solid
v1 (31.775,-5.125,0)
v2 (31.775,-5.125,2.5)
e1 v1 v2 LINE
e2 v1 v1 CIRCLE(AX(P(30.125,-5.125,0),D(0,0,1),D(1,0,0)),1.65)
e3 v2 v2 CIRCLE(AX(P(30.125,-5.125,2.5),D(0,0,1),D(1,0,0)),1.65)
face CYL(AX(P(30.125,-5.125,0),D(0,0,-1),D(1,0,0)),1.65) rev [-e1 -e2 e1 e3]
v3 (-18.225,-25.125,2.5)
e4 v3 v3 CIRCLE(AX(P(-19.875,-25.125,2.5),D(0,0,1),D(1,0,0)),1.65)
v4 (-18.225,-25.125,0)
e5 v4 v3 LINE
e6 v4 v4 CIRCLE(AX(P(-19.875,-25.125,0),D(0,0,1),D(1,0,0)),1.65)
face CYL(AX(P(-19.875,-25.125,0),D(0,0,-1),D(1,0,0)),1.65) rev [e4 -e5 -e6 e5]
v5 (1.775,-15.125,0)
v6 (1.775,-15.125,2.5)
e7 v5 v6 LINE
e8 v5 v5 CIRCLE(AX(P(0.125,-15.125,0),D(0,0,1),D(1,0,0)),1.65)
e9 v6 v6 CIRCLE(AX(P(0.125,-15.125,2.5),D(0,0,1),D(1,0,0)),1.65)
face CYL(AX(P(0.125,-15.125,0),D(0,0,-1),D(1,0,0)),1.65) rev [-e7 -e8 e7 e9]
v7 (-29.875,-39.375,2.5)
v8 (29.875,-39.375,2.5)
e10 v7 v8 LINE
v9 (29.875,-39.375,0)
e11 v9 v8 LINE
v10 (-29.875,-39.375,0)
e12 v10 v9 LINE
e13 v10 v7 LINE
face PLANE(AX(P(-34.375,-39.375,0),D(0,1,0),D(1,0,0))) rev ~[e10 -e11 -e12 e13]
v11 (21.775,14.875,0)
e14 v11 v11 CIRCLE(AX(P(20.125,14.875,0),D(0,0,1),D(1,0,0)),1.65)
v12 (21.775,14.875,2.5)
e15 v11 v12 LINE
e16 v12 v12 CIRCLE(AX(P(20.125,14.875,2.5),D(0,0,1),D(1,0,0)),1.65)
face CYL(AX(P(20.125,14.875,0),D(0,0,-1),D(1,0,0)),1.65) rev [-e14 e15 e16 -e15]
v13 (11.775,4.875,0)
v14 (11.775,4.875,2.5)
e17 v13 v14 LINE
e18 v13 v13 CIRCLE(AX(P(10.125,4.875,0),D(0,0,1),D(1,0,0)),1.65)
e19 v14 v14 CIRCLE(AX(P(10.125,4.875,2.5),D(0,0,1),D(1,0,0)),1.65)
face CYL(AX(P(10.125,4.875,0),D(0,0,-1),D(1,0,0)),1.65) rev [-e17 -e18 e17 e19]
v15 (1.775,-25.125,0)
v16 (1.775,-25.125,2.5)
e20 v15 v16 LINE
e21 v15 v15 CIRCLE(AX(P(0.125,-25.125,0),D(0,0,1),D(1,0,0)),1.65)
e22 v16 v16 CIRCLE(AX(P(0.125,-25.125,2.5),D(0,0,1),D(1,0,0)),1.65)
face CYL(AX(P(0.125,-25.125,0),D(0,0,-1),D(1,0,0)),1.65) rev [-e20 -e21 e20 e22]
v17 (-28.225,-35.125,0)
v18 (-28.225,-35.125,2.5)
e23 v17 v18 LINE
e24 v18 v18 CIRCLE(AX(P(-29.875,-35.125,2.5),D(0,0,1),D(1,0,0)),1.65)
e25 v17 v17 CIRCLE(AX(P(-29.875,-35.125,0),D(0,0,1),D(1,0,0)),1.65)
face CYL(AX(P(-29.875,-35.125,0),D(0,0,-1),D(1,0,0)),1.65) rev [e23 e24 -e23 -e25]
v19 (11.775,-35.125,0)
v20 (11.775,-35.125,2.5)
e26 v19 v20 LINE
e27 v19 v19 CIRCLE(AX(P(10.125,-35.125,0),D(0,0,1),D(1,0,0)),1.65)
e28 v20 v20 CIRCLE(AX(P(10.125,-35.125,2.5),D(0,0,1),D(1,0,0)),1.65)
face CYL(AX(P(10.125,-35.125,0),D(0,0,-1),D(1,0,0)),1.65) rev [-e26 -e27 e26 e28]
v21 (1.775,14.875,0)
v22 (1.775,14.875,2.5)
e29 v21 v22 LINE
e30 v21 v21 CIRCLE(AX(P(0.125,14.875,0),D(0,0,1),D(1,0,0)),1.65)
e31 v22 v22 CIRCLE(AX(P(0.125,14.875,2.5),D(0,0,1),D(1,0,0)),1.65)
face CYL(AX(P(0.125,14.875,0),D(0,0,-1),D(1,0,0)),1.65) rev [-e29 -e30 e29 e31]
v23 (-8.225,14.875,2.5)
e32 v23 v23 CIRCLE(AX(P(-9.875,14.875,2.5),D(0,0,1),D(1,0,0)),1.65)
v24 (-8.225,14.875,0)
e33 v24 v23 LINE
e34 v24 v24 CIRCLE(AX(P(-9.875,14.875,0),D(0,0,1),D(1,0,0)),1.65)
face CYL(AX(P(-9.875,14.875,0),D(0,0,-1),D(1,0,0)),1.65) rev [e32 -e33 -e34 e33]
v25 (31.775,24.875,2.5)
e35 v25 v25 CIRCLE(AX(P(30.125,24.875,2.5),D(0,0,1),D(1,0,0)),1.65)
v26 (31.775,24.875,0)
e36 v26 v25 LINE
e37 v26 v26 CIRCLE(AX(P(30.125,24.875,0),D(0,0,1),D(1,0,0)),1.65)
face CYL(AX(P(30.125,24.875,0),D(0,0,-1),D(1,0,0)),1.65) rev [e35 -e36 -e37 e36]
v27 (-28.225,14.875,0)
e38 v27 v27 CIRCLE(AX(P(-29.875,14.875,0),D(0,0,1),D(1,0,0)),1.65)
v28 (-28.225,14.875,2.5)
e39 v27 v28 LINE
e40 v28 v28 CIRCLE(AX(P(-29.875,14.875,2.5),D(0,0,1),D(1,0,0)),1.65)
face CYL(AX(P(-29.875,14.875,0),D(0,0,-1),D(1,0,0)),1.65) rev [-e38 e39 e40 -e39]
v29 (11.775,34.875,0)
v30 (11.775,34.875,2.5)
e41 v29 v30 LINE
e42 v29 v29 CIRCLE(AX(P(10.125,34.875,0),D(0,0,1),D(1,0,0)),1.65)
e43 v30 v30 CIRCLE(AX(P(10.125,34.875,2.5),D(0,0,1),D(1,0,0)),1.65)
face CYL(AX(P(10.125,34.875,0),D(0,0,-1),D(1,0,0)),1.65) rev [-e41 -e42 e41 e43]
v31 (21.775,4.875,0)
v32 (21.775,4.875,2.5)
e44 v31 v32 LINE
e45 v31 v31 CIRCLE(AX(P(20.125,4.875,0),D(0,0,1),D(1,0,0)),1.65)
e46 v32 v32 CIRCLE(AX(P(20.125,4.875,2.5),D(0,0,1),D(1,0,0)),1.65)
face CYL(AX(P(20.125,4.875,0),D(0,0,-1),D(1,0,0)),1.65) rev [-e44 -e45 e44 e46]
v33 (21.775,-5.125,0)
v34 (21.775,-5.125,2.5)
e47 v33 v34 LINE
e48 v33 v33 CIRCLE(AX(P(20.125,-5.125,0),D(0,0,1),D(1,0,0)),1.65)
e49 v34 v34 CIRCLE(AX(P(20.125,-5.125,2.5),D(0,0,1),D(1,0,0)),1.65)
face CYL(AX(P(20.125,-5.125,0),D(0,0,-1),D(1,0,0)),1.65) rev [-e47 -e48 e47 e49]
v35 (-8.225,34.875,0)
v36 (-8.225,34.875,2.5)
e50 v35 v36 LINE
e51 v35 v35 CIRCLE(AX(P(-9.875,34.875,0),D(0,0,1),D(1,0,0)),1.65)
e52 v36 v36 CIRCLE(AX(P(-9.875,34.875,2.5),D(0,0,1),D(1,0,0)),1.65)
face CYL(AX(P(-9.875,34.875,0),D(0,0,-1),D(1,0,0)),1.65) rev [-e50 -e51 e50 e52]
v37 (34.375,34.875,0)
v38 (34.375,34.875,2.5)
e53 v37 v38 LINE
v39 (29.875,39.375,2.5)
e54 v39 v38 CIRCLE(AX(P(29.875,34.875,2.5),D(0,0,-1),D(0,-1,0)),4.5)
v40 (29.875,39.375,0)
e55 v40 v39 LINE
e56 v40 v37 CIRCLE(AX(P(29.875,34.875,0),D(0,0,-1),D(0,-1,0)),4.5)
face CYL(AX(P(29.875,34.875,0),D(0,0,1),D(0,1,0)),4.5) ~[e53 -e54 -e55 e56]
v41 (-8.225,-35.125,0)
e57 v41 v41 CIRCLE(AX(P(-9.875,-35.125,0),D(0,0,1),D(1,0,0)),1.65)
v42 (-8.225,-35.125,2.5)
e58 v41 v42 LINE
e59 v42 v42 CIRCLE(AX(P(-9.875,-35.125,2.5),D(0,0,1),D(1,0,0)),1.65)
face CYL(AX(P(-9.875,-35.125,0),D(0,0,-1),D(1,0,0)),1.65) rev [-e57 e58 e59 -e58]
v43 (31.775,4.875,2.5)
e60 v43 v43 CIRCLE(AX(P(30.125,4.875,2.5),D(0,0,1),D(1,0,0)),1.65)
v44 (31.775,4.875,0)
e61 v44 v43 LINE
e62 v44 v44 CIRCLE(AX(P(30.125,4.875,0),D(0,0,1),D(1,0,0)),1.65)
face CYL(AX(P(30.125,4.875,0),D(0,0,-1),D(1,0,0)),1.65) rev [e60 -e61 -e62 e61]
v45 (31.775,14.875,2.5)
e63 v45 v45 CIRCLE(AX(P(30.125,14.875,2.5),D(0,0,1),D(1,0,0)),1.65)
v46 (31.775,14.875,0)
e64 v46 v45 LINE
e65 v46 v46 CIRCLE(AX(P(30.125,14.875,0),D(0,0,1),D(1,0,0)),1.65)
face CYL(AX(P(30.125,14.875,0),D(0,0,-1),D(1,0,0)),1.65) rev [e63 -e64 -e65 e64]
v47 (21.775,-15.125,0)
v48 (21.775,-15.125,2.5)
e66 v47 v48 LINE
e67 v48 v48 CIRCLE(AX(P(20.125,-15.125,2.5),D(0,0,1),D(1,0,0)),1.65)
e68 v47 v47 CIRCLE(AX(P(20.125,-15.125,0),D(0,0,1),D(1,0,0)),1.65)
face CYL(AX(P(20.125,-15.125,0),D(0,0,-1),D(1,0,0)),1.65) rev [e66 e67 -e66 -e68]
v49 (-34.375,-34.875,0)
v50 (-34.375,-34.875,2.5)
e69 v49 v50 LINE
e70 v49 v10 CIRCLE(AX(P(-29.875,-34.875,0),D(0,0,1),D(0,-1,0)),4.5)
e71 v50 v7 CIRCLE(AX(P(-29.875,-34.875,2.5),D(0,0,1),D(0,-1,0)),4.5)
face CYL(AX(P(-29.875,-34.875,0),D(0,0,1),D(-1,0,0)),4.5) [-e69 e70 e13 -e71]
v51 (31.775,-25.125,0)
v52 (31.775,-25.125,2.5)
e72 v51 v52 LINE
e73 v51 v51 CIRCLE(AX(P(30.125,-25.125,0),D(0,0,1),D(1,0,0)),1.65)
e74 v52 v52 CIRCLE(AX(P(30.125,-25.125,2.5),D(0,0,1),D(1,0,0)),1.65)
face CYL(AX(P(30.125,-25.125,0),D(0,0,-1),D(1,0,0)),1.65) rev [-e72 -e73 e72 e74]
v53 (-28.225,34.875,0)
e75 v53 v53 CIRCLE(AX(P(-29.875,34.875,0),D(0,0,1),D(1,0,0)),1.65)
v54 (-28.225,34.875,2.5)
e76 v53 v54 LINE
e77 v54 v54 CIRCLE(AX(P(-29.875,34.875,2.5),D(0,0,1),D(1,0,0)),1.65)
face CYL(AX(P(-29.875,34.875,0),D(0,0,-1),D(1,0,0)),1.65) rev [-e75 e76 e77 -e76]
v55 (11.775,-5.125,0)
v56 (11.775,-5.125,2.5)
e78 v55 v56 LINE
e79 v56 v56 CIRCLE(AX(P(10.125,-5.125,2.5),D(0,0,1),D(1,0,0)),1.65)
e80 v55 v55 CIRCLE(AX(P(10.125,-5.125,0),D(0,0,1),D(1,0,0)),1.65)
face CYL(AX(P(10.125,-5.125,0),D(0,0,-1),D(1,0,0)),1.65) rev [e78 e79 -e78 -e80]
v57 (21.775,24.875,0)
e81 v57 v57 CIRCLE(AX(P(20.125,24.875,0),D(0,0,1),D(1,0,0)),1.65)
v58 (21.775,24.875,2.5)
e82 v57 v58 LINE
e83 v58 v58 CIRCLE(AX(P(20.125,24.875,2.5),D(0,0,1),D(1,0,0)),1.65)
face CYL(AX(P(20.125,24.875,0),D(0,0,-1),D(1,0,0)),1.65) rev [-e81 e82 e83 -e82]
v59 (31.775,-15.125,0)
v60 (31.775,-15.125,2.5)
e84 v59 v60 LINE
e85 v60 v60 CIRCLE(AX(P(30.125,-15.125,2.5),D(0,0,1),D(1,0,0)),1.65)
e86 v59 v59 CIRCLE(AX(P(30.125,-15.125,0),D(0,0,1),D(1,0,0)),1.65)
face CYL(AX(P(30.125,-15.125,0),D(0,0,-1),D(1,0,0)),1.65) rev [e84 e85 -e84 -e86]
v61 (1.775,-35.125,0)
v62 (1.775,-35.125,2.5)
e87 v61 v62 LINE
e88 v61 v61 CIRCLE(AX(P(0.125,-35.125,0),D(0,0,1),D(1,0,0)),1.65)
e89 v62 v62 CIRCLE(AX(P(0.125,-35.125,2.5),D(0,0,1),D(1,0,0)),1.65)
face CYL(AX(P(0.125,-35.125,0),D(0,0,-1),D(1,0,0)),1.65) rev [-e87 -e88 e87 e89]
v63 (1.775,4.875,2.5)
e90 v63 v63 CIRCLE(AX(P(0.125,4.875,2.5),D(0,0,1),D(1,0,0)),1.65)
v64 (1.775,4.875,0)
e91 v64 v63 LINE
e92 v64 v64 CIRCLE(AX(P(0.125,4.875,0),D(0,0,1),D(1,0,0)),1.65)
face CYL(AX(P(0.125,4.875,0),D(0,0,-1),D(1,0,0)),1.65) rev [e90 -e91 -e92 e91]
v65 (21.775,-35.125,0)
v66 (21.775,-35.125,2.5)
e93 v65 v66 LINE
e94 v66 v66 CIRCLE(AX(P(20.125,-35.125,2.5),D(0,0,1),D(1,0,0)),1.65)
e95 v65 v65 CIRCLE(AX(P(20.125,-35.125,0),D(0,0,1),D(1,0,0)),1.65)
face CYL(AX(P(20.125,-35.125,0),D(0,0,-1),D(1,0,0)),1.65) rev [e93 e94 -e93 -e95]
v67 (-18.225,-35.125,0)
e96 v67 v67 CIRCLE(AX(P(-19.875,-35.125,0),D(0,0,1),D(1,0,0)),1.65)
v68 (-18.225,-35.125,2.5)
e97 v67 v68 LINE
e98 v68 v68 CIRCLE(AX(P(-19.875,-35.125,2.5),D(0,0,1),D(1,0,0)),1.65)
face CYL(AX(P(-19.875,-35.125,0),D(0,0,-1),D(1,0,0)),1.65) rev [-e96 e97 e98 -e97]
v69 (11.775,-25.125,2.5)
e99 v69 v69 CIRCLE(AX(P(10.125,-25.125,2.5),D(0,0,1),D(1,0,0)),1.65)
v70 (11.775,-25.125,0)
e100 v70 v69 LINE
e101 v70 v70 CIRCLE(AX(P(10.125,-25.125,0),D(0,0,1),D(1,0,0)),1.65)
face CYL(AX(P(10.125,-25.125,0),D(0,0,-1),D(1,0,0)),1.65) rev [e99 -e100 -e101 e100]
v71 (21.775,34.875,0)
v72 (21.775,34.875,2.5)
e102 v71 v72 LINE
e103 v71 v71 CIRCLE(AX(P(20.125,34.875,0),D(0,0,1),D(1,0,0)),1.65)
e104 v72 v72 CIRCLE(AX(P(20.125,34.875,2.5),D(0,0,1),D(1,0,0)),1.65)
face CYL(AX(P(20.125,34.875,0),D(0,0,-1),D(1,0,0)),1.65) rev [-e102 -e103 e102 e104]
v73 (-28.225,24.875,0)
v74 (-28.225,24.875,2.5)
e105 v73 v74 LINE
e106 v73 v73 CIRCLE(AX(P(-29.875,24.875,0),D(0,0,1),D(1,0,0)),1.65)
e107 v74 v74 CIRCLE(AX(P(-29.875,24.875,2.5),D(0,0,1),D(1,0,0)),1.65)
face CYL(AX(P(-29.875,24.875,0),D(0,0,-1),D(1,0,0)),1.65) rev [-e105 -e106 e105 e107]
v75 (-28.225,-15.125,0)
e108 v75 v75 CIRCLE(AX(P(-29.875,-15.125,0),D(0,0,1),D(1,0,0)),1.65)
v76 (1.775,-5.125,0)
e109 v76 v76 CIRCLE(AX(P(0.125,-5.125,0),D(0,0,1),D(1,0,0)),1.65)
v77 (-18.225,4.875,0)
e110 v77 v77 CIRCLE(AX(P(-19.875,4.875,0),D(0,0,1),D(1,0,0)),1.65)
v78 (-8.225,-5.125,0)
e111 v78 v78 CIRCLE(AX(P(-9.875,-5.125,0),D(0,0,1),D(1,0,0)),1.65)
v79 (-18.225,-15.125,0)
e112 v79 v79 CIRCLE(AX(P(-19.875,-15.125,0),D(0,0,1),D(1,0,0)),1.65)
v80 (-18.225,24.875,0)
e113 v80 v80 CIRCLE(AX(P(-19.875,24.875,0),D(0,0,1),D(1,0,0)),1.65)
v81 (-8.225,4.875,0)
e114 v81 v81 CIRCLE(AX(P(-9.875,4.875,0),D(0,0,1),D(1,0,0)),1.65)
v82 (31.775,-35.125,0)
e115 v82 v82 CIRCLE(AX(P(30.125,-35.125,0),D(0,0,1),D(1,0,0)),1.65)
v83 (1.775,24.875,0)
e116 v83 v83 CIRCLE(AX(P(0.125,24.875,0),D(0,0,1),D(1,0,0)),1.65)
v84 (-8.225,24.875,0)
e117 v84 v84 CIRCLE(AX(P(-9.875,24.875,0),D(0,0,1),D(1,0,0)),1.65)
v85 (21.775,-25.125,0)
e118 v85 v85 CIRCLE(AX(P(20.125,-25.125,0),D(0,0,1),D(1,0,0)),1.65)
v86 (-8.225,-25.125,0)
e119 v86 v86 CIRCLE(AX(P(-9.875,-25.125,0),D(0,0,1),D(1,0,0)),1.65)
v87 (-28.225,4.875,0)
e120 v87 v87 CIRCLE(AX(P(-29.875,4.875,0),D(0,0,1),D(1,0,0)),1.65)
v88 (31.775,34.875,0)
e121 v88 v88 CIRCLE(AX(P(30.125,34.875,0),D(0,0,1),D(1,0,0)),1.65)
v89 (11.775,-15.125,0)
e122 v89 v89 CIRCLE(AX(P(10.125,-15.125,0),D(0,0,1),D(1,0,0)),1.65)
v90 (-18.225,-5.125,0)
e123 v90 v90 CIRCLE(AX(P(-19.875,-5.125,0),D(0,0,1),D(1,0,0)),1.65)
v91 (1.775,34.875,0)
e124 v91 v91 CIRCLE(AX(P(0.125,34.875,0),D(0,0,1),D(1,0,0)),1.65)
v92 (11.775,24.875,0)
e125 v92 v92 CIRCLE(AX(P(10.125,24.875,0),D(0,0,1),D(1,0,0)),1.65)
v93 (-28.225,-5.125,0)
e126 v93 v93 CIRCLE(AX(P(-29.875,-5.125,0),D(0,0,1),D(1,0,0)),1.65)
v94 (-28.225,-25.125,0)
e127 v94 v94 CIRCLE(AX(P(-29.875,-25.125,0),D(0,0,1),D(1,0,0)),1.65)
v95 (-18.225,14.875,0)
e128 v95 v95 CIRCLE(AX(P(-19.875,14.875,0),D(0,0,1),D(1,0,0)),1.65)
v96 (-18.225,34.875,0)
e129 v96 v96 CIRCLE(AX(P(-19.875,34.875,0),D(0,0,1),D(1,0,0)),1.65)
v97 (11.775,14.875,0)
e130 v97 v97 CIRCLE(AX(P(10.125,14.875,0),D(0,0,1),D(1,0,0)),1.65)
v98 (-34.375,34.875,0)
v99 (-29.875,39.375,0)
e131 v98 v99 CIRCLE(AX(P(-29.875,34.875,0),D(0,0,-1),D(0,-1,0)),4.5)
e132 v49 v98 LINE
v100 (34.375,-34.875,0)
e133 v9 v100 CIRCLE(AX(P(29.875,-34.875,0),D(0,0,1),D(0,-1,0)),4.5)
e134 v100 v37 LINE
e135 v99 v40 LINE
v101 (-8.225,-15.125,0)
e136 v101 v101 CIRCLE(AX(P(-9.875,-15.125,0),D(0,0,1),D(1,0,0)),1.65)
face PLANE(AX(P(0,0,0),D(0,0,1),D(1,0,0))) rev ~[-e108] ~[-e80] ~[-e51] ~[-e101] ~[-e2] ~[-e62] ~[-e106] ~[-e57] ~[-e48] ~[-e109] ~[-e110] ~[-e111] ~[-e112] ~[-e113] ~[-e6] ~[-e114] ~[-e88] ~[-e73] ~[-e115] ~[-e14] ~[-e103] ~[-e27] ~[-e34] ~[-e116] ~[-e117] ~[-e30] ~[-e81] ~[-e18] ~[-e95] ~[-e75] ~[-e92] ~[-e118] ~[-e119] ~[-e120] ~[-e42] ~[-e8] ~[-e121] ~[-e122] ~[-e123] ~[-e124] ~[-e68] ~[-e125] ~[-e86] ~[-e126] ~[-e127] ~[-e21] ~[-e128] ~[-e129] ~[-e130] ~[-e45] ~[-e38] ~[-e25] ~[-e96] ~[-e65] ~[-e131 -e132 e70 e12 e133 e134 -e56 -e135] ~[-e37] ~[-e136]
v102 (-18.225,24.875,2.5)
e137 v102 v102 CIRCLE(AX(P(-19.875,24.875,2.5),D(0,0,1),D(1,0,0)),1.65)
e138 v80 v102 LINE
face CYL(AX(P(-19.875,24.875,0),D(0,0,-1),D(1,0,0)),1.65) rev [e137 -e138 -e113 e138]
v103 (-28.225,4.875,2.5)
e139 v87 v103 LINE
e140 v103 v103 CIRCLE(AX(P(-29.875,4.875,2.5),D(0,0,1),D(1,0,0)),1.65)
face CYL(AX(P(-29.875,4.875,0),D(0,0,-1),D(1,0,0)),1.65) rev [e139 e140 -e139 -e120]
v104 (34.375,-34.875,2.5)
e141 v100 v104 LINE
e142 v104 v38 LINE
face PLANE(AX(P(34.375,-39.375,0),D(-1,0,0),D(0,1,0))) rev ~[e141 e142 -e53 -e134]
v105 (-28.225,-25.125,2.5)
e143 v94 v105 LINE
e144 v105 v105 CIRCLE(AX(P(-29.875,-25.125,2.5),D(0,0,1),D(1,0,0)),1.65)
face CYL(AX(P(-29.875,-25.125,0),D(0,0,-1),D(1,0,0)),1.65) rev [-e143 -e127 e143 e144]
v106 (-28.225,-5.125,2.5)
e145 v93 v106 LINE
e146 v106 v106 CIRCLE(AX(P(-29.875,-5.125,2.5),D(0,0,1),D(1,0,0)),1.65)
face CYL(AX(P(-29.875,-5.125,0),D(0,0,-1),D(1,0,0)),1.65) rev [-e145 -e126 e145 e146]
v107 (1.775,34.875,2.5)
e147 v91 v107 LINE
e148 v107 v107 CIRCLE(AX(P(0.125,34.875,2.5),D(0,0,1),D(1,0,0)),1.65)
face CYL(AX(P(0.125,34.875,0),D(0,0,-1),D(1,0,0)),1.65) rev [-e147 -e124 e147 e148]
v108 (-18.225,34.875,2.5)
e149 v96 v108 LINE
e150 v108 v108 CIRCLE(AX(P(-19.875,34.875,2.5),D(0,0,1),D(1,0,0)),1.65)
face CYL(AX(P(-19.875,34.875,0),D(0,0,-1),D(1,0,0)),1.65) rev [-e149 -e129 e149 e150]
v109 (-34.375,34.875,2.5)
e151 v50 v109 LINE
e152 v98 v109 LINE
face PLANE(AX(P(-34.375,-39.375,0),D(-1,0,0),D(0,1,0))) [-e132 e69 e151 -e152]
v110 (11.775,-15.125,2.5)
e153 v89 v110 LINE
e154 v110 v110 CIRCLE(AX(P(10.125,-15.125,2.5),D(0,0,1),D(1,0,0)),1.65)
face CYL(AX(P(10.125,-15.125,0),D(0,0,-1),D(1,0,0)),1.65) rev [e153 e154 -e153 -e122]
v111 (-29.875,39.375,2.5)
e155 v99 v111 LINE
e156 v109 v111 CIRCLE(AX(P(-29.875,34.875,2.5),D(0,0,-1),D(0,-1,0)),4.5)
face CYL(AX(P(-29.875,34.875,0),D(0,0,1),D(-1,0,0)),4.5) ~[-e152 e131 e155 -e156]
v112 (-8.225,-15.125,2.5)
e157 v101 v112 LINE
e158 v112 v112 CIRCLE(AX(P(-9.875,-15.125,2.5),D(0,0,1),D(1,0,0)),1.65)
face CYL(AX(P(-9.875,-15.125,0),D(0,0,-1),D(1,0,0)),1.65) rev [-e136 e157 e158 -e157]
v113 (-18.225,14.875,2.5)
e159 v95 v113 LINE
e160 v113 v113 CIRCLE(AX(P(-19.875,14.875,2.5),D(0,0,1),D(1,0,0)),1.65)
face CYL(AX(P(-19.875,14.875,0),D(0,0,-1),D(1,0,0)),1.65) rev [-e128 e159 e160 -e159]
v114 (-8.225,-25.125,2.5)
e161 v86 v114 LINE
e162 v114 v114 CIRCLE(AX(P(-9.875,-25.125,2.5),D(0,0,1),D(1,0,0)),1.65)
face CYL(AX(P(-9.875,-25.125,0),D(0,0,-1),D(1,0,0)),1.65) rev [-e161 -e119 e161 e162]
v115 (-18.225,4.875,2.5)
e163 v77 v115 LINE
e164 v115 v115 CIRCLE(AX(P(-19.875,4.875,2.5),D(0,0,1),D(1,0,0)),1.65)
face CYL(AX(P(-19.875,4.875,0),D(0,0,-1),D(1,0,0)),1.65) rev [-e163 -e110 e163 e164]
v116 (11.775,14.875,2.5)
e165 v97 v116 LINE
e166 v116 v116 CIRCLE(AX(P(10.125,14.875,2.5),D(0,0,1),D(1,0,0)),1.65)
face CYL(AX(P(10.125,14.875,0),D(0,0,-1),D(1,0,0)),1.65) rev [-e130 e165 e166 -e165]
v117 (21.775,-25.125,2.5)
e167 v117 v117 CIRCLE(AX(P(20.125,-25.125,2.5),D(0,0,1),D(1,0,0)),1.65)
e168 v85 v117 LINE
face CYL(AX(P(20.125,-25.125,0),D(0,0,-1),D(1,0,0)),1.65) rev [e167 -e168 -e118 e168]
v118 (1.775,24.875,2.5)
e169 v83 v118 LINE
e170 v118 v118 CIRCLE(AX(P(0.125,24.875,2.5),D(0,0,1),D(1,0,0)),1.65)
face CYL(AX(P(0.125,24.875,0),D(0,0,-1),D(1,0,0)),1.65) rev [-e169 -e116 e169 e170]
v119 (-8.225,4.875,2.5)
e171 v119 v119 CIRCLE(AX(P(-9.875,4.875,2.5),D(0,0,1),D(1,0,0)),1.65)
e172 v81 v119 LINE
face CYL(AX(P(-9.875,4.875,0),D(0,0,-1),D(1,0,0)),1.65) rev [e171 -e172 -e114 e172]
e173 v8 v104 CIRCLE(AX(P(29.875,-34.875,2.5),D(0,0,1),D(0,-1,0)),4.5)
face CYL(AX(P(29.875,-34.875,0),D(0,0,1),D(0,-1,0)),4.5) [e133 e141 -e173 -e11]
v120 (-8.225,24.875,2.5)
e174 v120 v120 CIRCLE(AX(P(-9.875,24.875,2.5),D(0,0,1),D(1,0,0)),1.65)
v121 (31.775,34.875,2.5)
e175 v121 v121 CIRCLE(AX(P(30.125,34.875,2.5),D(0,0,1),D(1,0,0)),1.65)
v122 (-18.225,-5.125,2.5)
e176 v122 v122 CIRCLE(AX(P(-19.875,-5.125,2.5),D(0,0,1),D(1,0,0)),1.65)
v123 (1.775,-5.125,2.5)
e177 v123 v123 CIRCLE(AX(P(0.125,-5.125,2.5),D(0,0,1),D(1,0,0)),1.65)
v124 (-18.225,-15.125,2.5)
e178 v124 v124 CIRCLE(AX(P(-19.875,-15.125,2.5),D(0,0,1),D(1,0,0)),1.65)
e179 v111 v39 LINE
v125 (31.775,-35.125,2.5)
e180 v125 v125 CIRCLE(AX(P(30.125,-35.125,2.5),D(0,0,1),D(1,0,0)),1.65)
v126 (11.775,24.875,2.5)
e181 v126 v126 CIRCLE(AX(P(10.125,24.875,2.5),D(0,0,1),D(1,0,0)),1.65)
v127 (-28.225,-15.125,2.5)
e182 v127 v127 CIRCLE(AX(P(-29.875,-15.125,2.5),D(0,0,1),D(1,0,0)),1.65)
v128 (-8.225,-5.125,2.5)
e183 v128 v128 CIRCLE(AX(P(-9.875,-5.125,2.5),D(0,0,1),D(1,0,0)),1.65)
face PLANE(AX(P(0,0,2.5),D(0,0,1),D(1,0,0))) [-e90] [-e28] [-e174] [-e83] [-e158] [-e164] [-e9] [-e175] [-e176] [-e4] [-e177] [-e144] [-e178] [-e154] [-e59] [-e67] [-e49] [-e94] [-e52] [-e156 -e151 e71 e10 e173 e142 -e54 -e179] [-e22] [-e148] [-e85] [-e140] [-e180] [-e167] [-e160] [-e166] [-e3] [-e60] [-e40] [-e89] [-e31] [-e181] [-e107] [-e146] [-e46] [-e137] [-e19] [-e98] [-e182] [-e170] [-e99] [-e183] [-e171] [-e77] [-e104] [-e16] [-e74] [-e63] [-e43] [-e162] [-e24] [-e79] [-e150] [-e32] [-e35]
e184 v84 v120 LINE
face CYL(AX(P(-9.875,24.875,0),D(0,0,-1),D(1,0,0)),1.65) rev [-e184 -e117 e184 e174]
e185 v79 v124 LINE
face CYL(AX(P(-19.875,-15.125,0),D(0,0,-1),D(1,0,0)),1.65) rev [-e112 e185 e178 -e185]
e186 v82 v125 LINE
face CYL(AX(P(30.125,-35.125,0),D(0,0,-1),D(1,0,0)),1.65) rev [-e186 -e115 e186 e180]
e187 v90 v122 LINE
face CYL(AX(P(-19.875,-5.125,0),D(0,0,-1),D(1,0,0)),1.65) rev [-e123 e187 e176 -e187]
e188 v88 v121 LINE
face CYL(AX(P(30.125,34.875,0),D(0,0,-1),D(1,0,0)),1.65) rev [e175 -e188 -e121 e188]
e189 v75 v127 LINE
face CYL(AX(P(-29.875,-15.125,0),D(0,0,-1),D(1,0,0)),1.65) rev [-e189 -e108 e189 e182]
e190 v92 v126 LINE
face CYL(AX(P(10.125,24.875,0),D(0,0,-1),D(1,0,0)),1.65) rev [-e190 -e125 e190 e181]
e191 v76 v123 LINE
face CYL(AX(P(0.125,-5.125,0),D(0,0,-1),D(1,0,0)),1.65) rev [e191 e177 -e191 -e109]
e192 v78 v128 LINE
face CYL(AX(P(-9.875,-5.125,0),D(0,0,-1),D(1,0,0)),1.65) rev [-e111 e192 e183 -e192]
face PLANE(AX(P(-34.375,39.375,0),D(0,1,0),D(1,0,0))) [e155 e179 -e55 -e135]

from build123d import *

# Parameters (mm, degrees)
F0_W     = 68.75
F0_H     = 78.75
F0_R     = 1.65
F1_DEPTH = 2.5
F2_R     = 4.5


with BuildPart() as f1:
    # F0 (on Top) → F1 (new body)
    with BuildSketch(Plane.XY):
        Rectangle(F0_W, F0_H)
        with Locations((-29.875, -35.125)):
            Circle(F0_R, mode=Mode.SUBTRACT)
        with Locations((-19.875, -35.125)):
            Circle(F0_R, mode=Mode.SUBTRACT)
        with Locations((-29.875, -25.125)):
            Circle(F0_R, mode=Mode.SUBTRACT)
        with Locations((-19.875, -25.125)):
            Circle(F0_R, mode=Mode.SUBTRACT)
        with Locations((-9.875, -35.125)):
            Circle(F0_R, mode=Mode.SUBTRACT)
        with Locations((-9.875, -25.125)):
            Circle(F0_R, mode=Mode.SUBTRACT)
        with Locations((-29.875, -15.125)):
            Circle(F0_R, mode=Mode.SUBTRACT)
        with Locations((-19.875, -15.125)):
            Circle(F0_R, mode=Mode.SUBTRACT)
        with Locations((-29.875, -5.125)):
            Circle(F0_R, mode=Mode.SUBTRACT)
        with Locations((-19.875, -5.125)):
            Circle(F0_R, mode=Mode.SUBTRACT)
        with Locations((-9.875, -15.125)):
            Circle(F0_R, mode=Mode.SUBTRACT)
        with Locations((-9.875, -5.125)):
            Circle(F0_R, mode=Mode.SUBTRACT)
        with Locations((0.125, -35.125)):
            Circle(F0_R, mode=Mode.SUBTRACT)
        with Locations((10.125, -35.125)):
            Circle(F0_R, mode=Mode.SUBTRACT)
        with Locations((0.125, -25.125)):
            Circle(F0_R, mode=Mode.SUBTRACT)
        with Locations((10.125, -25.125)):
            Circle(F0_R, mode=Mode.SUBTRACT)
        with Locations((20.125, -35.125)):
            Circle(F0_R, mode=Mode.SUBTRACT)
        with Locations((30.125, -35.125)):
            Circle(F0_R, mode=Mode.SUBTRACT)
        with Locations((20.125, -25.125)):
            Circle(F0_R, mode=Mode.SUBTRACT)
        with Locations((30.125, -25.125)):
            Circle(F0_R, mode=Mode.SUBTRACT)
        with Locations((0.125, -15.125)):
            Circle(F0_R, mode=Mode.SUBTRACT)
        with Locations((10.125, -15.125)):
            Circle(F0_R, mode=Mode.SUBTRACT)
        with Locations((0.125, -5.125)):
            Circle(F0_R, mode=Mode.SUBTRACT)
        with Locations((10.125, -5.125)):
            Circle(F0_R, mode=Mode.SUBTRACT)
        with Locations((20.125, -15.125)):
            Circle(F0_R, mode=Mode.SUBTRACT)
        with Locations((30.125, -15.125)):
            Circle(F0_R, mode=Mode.SUBTRACT)
        with Locations((20.125, -5.125)):
            Circle(F0_R, mode=Mode.SUBTRACT)
        with Locations((30.125, -5.125)):
            Circle(F0_R, mode=Mode.SUBTRACT)
        with Locations((-29.875, 4.875)):
            Circle(F0_R, mode=Mode.SUBTRACT)
        with Locations((-19.875, 4.875)):
            Circle(F0_R, mode=Mode.SUBTRACT)
        with Locations((-29.875, 14.875)):
            Circle(F0_R, mode=Mode.SUBTRACT)
        with Locations((-19.875, 14.875)):
            Circle(F0_R, mode=Mode.SUBTRACT)
        with Locations((-9.875, 4.875)):
            Circle(F0_R, mode=Mode.SUBTRACT)
        with Locations((-9.875, 14.875)):
            Circle(F0_R, mode=Mode.SUBTRACT)
        with Locations((-29.875, 24.875)):
            Circle(F0_R, mode=Mode.SUBTRACT)
        with Locations((-19.875, 24.875)):
            Circle(F0_R, mode=Mode.SUBTRACT)
        with Locations((-29.875, 34.875)):
            Circle(F0_R, mode=Mode.SUBTRACT)
        with Locations((-19.875, 34.875)):
            Circle(F0_R, mode=Mode.SUBTRACT)
        with Locations((-9.875, 24.875)):
            Circle(F0_R, mode=Mode.SUBTRACT)
        with Locations((-9.875, 34.875)):
            Circle(F0_R, mode=Mode.SUBTRACT)
        with Locations((0.125, 4.875)):
            Circle(F0_R, mode=Mode.SUBTRACT)
        with Locations((10.125, 4.875)):
            Circle(F0_R, mode=Mode.SUBTRACT)
        with Locations((0.125, 14.875)):
            Circle(F0_R, mode=Mode.SUBTRACT)
        with Locations((10.125, 14.875)):
            Circle(F0_R, mode=Mode.SUBTRACT)
        with Locations((20.125, 4.875)):
            Circle(F0_R, mode=Mode.SUBTRACT)
        with Locations((30.125, 4.875)):
            Circle(F0_R, mode=Mode.SUBTRACT)
        with Locations((20.125, 14.875)):
            Circle(F0_R, mode=Mode.SUBTRACT)
        with Locations((30.125, 14.875)):
            Circle(F0_R, mode=Mode.SUBTRACT)
        with Locations((0.125, 24.875)):
            Circle(F0_R, mode=Mode.SUBTRACT)
        with Locations((10.125, 24.875)):
            Circle(F0_R, mode=Mode.SUBTRACT)
        with Locations((0.125, 34.875)):
            Circle(F0_R, mode=Mode.SUBTRACT)
        with Locations((10.125, 34.875)):
            Circle(F0_R, mode=Mode.SUBTRACT)
        with Locations((20.125, 24.875)):
            Circle(F0_R, mode=Mode.SUBTRACT)
        with Locations((30.125, 24.875)):
            Circle(F0_R, mode=Mode.SUBTRACT)
        with Locations((20.125, 34.875)):
            Circle(F0_R, mode=Mode.SUBTRACT)
        with Locations((30.125, 34.875)):
            Circle(F0_R, mode=Mode.SUBTRACT)
    extrude(amount=F1_DEPTH)

    # F2
    f2_edges = [f1.edges().sort_by_distance(p)[0] for p in [
        (34.375, 39.375, 1.25),
        (34.375, -39.375, 1.25),
        (-34.375, 39.375, 1.25),
        (-34.375, -39.375, 1.25),
    ]]
    fillet(f2_edges, radius=F2_R)


solid = f1.part
